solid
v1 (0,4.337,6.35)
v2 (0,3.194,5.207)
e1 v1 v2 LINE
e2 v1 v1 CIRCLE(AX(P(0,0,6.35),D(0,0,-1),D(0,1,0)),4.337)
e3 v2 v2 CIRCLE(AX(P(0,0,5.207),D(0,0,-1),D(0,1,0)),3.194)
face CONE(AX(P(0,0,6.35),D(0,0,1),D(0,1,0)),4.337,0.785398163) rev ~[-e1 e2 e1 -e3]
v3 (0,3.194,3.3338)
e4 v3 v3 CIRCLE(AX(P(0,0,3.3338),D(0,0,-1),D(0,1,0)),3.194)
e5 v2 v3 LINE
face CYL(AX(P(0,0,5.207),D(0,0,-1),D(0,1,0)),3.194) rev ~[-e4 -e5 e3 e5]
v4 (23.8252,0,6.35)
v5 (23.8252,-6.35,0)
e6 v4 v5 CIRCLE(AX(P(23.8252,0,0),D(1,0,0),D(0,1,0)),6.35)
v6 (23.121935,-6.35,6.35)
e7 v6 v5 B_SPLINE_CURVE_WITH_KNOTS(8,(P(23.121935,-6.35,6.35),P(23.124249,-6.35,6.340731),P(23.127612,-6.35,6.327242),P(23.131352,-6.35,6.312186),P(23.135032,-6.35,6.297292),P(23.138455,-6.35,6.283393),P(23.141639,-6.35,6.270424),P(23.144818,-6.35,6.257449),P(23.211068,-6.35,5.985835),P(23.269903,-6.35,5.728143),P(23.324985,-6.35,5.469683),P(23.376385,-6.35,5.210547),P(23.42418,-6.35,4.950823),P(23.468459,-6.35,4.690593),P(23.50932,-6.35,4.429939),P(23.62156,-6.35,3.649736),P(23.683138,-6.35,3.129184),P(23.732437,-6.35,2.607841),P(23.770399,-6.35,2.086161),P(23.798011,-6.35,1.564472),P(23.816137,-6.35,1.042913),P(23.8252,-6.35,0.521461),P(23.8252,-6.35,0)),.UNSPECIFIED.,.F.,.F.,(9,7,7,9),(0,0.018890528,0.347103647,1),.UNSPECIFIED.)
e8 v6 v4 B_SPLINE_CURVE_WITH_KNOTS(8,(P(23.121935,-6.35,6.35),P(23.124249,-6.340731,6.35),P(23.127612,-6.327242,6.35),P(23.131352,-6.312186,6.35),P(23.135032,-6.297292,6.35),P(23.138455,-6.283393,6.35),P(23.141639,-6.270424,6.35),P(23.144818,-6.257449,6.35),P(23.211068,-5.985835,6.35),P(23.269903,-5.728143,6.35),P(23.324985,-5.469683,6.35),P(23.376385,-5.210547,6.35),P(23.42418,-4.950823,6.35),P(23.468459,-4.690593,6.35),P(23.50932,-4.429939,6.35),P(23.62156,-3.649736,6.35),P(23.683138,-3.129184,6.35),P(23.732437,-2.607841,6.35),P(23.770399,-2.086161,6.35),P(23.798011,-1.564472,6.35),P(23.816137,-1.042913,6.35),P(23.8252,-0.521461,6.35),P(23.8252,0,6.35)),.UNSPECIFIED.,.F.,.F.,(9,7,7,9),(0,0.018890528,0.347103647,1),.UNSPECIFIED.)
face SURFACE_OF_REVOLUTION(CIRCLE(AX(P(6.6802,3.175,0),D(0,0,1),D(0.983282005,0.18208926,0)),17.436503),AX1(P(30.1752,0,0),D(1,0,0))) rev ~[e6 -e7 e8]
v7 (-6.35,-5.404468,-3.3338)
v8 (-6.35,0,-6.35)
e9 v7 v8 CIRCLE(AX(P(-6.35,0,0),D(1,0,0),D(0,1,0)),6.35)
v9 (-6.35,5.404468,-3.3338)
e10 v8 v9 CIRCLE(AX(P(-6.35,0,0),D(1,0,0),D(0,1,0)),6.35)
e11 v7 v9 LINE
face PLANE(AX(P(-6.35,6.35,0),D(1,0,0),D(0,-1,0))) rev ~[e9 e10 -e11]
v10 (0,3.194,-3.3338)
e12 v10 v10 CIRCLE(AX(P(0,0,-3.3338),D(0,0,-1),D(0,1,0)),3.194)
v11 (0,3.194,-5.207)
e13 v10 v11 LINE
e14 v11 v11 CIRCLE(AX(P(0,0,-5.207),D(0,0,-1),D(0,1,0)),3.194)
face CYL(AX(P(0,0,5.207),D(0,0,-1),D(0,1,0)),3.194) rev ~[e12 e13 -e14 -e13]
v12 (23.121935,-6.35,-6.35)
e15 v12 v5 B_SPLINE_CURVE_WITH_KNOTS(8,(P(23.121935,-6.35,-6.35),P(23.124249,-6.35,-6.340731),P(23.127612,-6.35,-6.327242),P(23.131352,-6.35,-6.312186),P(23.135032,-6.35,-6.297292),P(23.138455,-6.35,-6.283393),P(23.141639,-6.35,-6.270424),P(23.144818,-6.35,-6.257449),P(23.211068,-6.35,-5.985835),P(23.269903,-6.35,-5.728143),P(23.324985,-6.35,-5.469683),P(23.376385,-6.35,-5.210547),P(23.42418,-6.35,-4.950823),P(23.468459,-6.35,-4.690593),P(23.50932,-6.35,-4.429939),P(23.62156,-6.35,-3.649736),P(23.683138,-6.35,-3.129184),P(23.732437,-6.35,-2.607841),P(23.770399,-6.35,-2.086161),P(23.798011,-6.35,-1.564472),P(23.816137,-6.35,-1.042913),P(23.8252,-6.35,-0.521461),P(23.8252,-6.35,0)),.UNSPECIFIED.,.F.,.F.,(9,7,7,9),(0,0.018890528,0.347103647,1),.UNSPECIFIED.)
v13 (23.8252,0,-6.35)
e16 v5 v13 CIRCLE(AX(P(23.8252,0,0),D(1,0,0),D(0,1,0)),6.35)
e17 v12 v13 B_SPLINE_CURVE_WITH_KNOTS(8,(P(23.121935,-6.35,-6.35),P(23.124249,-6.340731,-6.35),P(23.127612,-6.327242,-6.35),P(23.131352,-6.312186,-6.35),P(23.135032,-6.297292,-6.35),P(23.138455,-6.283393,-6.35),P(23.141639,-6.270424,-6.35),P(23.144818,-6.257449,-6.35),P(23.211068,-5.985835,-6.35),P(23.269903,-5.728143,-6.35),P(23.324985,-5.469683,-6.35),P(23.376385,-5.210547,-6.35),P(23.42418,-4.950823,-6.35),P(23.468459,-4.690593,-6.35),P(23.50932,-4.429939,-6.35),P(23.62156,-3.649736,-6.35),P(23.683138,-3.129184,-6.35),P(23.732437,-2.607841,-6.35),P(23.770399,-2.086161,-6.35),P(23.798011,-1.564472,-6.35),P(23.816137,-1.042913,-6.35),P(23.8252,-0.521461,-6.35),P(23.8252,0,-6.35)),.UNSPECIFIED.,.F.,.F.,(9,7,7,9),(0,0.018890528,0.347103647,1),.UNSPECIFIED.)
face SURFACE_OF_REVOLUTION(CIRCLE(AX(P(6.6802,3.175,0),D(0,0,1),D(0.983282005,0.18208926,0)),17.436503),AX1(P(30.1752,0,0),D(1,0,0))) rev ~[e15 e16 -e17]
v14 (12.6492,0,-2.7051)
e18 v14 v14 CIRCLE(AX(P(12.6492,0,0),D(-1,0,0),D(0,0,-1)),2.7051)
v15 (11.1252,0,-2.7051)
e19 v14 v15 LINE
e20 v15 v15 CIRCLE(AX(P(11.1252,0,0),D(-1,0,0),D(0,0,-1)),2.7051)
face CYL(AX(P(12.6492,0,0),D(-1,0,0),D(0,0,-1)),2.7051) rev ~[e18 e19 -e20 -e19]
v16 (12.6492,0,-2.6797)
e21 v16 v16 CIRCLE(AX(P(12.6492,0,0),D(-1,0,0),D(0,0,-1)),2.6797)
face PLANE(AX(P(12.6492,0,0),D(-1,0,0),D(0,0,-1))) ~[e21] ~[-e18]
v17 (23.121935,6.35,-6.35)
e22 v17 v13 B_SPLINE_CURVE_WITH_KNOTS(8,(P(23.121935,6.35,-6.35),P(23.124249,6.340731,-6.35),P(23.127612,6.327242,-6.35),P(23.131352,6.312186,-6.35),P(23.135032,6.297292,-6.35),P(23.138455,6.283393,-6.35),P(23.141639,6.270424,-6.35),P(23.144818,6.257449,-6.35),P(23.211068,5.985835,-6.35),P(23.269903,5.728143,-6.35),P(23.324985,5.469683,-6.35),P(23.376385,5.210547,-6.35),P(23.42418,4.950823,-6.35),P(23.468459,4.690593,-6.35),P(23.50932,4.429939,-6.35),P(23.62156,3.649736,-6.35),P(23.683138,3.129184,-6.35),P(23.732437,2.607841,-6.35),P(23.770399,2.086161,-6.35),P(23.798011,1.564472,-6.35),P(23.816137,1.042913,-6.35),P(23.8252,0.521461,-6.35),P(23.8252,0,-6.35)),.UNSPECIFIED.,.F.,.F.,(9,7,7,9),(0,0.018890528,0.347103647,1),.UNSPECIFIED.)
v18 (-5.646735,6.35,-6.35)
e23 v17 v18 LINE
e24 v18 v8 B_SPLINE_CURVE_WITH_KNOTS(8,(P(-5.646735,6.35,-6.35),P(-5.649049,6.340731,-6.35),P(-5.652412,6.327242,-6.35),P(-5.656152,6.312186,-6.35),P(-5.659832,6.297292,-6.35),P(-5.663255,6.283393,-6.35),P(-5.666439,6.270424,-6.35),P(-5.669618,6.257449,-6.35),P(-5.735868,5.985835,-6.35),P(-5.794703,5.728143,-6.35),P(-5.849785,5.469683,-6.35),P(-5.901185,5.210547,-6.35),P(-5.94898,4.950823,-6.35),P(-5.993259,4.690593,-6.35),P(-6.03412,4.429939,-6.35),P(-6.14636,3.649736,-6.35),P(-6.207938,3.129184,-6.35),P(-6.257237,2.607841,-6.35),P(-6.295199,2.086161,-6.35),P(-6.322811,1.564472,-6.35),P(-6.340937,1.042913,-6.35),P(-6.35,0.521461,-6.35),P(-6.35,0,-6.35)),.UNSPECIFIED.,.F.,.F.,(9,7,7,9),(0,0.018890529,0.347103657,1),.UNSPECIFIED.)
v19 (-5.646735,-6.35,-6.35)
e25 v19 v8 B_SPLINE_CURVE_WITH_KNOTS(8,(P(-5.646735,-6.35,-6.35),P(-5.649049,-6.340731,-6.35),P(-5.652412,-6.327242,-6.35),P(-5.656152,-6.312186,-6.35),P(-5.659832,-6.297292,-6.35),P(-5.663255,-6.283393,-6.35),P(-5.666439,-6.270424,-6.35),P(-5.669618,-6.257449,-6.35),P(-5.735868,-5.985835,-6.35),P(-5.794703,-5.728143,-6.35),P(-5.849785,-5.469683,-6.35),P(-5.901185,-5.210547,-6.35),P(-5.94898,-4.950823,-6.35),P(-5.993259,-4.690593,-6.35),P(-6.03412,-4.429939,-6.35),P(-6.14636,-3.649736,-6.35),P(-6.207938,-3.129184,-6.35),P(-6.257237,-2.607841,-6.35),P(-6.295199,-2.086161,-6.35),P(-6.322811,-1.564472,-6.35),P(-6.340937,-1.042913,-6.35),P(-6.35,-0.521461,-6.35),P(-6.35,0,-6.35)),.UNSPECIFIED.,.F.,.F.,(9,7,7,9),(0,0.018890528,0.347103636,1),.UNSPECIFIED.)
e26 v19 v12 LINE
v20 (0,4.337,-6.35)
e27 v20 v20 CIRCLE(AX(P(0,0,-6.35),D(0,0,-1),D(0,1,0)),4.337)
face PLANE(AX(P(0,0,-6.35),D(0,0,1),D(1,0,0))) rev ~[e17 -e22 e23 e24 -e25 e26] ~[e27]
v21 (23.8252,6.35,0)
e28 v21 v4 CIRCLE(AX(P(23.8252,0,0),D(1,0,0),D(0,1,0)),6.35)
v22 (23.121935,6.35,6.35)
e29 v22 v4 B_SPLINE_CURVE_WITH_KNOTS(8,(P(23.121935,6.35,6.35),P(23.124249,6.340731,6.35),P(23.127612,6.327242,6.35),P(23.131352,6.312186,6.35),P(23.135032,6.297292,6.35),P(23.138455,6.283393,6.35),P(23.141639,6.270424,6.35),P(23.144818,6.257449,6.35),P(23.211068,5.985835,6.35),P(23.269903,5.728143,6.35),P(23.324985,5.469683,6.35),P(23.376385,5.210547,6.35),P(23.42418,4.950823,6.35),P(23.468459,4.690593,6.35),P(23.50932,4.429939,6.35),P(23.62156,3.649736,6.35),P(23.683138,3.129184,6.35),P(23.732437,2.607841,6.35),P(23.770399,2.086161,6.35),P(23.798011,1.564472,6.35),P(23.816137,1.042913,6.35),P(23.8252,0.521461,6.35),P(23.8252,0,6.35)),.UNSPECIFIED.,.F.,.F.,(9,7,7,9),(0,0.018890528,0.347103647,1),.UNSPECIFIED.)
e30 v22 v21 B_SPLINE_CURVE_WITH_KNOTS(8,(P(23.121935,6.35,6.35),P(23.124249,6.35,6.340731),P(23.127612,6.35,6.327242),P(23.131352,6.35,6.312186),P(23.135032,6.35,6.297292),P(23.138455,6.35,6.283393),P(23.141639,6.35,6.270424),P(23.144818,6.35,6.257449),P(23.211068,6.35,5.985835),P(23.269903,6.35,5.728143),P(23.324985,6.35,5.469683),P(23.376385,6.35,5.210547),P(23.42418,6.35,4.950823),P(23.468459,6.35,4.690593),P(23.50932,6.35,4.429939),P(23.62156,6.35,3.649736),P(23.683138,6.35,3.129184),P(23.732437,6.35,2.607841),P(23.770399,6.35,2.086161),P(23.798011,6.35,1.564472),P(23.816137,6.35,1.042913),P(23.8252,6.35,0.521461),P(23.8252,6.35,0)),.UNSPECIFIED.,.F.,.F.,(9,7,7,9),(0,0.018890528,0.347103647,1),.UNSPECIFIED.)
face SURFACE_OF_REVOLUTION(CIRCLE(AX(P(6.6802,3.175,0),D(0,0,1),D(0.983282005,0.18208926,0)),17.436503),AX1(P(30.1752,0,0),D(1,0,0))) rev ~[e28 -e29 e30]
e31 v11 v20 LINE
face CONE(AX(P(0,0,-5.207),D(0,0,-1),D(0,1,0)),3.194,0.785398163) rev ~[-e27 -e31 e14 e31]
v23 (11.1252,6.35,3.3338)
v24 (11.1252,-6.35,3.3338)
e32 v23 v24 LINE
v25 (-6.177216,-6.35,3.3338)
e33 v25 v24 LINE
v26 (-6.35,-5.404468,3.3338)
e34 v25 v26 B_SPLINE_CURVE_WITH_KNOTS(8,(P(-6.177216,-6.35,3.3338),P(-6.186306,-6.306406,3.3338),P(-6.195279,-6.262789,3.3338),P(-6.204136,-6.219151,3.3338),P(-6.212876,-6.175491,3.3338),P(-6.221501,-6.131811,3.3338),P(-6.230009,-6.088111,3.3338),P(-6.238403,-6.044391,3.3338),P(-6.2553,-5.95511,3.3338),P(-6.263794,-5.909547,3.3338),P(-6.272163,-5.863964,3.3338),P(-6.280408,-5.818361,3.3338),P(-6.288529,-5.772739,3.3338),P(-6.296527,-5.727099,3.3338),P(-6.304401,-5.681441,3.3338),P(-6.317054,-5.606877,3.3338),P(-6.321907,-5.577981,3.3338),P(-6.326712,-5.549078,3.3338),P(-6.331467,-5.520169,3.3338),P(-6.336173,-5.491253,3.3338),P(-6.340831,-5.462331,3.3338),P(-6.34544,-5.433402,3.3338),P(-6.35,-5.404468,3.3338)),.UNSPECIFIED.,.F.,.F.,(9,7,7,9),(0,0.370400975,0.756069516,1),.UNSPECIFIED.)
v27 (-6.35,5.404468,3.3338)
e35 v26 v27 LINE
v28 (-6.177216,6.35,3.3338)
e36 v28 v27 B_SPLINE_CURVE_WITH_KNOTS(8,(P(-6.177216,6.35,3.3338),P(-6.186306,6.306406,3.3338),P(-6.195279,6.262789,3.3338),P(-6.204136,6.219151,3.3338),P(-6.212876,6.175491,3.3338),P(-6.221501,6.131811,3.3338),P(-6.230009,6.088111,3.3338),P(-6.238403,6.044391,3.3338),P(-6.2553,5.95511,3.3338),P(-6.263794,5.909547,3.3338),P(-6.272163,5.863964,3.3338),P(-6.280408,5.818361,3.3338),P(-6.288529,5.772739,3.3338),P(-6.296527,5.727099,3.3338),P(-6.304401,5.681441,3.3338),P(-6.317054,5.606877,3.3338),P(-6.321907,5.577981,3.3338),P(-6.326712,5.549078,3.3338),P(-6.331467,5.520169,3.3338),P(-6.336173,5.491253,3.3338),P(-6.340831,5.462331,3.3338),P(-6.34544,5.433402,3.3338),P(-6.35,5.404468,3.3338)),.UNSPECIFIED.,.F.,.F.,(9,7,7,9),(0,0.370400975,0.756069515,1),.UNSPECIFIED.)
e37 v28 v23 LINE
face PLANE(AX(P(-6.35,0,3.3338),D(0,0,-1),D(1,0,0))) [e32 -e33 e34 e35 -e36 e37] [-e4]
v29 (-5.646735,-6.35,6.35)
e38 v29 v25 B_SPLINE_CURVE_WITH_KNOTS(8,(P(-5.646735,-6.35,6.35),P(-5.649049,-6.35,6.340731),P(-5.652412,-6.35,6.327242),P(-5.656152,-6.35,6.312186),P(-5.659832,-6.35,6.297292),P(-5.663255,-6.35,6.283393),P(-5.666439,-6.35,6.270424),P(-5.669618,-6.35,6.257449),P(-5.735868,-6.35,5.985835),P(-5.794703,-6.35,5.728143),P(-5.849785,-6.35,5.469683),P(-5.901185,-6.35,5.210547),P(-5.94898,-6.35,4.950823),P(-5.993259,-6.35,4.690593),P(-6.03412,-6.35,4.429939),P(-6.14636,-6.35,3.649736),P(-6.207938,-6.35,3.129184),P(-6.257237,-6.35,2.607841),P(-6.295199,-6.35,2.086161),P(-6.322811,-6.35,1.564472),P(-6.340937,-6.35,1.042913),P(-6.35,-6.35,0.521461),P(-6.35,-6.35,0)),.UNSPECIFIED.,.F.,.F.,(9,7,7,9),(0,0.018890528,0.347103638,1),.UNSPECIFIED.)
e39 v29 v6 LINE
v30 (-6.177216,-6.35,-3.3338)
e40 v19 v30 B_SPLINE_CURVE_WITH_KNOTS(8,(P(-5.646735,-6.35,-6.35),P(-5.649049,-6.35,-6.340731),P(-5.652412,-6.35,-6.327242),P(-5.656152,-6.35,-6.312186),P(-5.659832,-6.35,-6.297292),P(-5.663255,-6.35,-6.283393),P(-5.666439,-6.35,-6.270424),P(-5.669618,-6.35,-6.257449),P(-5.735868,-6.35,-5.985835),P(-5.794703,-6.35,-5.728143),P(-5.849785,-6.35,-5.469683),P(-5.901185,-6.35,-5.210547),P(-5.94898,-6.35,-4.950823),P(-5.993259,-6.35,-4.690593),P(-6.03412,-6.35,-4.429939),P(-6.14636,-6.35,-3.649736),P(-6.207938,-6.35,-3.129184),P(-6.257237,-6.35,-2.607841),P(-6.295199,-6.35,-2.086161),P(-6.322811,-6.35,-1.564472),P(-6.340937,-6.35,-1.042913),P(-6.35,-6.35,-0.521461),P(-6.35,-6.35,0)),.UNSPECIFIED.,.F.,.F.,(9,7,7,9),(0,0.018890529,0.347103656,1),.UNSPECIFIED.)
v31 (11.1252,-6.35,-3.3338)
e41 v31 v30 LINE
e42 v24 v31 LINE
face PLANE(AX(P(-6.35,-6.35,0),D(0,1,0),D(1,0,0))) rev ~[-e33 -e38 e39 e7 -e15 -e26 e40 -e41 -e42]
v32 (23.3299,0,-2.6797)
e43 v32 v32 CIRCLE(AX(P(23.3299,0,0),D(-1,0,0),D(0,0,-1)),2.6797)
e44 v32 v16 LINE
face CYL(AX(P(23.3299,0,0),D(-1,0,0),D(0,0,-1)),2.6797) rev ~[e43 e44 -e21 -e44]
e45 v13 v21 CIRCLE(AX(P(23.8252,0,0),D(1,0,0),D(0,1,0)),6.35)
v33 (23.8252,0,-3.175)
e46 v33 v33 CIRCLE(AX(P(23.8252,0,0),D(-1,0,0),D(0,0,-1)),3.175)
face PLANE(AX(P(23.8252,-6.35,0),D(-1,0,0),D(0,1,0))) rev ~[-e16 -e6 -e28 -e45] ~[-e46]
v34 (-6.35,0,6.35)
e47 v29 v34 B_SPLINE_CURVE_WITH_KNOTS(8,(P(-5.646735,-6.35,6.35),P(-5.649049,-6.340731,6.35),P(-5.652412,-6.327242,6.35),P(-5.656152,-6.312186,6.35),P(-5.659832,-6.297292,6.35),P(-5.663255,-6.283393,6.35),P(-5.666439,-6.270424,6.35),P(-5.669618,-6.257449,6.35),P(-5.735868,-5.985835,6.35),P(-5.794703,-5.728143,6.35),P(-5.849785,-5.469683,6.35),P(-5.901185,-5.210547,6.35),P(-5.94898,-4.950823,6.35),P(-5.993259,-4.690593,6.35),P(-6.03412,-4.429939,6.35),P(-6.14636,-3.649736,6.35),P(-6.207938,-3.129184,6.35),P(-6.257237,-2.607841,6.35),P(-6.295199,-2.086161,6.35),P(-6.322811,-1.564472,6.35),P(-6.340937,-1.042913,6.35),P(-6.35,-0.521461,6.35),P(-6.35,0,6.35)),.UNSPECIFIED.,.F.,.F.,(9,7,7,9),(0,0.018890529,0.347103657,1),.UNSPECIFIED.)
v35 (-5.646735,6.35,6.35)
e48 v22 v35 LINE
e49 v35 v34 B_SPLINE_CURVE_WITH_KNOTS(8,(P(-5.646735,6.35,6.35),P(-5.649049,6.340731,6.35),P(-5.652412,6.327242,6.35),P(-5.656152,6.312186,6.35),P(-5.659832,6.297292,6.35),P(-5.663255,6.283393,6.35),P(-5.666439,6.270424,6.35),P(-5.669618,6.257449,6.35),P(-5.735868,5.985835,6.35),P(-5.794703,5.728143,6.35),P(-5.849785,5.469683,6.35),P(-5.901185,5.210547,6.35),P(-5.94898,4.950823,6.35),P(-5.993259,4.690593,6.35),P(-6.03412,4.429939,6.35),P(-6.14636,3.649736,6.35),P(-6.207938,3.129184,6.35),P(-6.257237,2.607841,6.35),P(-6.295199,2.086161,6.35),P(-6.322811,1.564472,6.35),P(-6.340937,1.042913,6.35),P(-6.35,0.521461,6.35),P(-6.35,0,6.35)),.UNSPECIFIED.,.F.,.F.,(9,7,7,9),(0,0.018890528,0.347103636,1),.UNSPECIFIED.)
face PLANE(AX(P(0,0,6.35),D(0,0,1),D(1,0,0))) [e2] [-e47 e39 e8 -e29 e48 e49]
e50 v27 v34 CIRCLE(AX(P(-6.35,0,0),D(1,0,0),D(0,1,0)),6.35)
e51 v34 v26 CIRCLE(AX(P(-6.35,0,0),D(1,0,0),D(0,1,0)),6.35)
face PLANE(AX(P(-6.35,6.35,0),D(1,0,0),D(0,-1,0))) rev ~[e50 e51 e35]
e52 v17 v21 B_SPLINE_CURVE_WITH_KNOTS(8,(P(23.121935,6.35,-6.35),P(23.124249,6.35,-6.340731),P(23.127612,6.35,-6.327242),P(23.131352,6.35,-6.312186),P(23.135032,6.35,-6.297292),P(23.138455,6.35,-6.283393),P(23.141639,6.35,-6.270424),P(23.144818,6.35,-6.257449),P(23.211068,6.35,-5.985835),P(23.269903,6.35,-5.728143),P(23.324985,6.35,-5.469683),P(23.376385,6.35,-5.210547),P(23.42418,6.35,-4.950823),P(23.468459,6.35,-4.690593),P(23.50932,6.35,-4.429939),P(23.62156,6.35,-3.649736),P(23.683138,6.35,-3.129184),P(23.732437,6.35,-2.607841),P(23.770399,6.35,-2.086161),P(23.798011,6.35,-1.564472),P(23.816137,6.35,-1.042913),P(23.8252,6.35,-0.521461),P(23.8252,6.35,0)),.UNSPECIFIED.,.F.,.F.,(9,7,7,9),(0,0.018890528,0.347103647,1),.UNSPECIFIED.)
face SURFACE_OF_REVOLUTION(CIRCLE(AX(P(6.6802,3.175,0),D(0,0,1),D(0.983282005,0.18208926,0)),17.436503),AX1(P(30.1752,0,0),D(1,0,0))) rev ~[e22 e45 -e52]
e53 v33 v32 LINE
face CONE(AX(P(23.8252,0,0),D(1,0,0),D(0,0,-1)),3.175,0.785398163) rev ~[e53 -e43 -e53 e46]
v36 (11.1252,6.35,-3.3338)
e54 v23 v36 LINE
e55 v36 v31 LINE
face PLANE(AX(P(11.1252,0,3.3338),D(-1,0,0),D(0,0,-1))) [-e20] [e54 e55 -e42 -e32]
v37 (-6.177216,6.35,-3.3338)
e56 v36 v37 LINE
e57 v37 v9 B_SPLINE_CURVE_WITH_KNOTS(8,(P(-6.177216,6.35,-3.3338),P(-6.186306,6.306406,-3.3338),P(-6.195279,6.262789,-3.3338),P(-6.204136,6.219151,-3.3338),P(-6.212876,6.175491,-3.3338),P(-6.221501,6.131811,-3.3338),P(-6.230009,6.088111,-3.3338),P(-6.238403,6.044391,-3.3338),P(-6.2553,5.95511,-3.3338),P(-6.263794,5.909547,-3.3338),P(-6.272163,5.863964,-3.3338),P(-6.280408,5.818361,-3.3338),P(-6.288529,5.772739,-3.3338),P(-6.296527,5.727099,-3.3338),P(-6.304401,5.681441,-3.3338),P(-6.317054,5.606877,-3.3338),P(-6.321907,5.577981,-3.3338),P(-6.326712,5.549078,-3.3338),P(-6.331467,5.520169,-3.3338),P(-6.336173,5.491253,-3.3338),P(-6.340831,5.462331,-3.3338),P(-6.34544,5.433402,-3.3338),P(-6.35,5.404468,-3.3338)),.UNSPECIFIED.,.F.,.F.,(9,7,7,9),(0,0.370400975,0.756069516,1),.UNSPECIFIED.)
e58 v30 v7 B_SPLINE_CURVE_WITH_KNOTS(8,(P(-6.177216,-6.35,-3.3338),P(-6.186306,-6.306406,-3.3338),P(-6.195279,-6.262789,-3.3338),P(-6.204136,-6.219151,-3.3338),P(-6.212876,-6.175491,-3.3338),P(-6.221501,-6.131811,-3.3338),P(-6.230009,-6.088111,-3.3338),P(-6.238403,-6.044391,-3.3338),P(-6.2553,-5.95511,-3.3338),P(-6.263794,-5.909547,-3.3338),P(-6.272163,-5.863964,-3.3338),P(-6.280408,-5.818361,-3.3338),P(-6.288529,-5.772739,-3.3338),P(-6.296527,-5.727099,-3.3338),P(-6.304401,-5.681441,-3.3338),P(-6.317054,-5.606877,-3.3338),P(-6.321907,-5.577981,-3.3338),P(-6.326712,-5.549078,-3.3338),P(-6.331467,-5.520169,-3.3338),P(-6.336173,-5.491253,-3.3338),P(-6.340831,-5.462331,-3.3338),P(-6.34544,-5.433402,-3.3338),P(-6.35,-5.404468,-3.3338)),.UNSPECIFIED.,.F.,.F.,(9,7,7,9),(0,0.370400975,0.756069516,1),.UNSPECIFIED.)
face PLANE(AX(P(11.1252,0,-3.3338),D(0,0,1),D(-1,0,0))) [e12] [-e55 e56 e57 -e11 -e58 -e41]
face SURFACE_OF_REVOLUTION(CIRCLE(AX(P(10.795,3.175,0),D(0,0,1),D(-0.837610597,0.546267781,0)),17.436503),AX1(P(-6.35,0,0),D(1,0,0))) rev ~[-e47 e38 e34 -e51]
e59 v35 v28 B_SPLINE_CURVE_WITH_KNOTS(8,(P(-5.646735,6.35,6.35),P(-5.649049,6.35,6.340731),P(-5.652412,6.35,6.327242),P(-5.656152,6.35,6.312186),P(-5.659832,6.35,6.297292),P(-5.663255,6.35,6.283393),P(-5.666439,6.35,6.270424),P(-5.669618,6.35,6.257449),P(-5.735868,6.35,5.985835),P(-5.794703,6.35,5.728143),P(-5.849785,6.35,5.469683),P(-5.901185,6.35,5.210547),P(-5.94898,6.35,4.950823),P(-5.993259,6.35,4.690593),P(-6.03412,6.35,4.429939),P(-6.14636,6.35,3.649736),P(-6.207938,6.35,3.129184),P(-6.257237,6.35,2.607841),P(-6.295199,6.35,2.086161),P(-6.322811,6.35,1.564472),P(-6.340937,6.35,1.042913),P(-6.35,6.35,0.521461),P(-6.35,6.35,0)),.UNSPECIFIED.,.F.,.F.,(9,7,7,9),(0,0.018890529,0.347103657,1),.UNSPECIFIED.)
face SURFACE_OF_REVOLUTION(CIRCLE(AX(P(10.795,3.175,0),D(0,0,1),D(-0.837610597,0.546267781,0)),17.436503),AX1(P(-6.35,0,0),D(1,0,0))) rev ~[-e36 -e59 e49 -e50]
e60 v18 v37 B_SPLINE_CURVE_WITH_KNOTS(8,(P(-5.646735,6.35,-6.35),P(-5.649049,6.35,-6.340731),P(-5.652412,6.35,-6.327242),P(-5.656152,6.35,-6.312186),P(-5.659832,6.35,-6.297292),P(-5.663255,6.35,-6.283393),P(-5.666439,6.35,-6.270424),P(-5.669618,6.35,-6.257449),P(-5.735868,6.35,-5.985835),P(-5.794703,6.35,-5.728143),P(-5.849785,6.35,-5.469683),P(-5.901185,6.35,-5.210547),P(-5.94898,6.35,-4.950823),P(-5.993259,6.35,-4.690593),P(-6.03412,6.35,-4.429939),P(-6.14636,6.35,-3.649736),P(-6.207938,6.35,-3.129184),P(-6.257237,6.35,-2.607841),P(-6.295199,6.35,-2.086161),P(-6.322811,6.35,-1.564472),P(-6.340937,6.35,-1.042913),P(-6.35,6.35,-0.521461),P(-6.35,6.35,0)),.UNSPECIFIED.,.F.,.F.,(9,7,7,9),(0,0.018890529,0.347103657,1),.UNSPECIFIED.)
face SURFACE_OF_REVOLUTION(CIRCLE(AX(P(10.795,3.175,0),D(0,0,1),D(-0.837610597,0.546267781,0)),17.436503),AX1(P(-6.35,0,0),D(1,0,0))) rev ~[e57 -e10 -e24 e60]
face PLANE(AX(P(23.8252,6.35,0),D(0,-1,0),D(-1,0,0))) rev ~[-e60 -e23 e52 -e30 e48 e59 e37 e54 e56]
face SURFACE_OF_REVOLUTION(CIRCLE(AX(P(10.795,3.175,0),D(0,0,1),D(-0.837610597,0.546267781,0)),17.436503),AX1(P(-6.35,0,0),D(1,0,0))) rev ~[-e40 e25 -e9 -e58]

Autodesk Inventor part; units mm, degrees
sketch "Sketch_1" plane through (0, 0, 0) normal (0, 0, 1) x (1, 0, 0)
  line L0 (-6.35, 6.35) -> (-6.35, -6.35)
  line L1 (-6.35, -6.35) -> (23.8252, -6.35)
  line L2 (23.8252, -6.35) -> (23.8252, 6.35)
  line L3 (23.8252, 6.35) -> (-6.35, 6.35)
extrude "Extrusion1" add sketch "Sketch_1" along normal mid plane 12.7
sketch "Sketch_2" plane through (0, 0, 0) normal (0, 1, 0) x (-1, 0, 0)
  line L0 (6.35, -3.3338) -> (6.35, 3.3338)
  line L1 (6.35, 3.3338) -> (-11.1252, 3.3338)
  line L2 (-11.1252, 3.3338) -> (-11.1252, -3.3338)
  line L3 (-11.1252, -3.3338) -> (6.35, -3.3338)
extrude "Extrusion2" cut sketch "Sketch_2" along normal mid plane 12.7
sketch "Sketch3" plane through (23.8252, -6.35, 6.35) normal (1, 0, 0) x (0, 0, -1)
  point P0 (6.35, 6.35)
hole "Drilling 1" at (23.8252, 0, 0) direction (-1, 0, 0) diameter 5.3594 depth 11.176 countersink diameter 6.35 countersink angle 90 thread size "1/4-28 UNF" class "2B" standard "ANSI Unified Screw Threads"
sketch "Sketch4" plane through (12.6492, 0, 0) normal (1, 0, 0) x (0, 0, -1)
  point P0 (0, 0)
hole "Drilling 2" at (12.6492, 0, 0) direction (-1, 0, 0) diameter 5.4102 depth 1.524
sketch "Sketch_5" plane through (0, 0, 0) normal (1, 0, 0) x (0, 1, 0)
  line L0 (0, -6.35) -> (0, 6.35)
  line L1 (0, 6.35) -> (4.337, 6.35)
  line L2 (4.337, 6.35) -> (3.194, 5.207)
  line L3 (3.194, 5.207) -> (3.194, -5.207)
  line L4 (3.194, -5.207) -> (4.337, -6.35)
  line L5 (4.337, -6.35) -> (0, -6.35)
  line L6 (0, -6.35) -> (0, 6.35)
revolve "Revolution1" cut sketch "Sketch_5" angle 360 about axis through (0, 0, -6.35) along (0, 0, -1)
sketch "Sketch_9" plane through (0, 0, 0) normal (0, 0, 1) x (1, 0, 0)
  line L0 (30.1752, 0) -> (23.8252, 0)
  line L1 (23.8252, 0) -> (23.8252, 6.35)
  arc A0 (23.8252, 6.35) -> (21.2852, 12.7) centre (6.6802, 3.175) ccw
  line L2 (21.2852, 12.7) -> (30.1752, 12.7)
  line L3 (30.1752, 12.7) -> (30.1752, 0)
  line L4 (30.1752, 0) -> (23.8252, 0)
revolve "Revolution2" cut sketch "Sketch_9" angle 360 about axis through (30.1752, 0, 0) along (1, 0, 0)
sketch "Sketch_10" plane through (0, 0, 0) normal (0, 0, 1) x (1, 0, 0)
  line L0 (-6.35, 0) -> (-12.7, 0)
  line L1 (-12.7, 0) -> (-12.7, 12.7)
  line L2 (-12.7, 12.7) -> (-3.81, 12.7)
  arc A0 (-3.81, 12.7) -> (-6.35, 6.35) centre (10.795, 3.175) ccw
  line L3 (-6.35, 6.35) -> (-6.35, 0)
  line L4 (-6.35, 0) -> (-12.7, 0)
revolve "Revolution3" cut sketch "Sketch_10" angle 360 about axis through (-6.35, 0, 0) along (1, 0, 0)
ref_plane "th1_XY" through (23.8252, 3.175, 0) normal (0, 0, 1) x (1, 0, 0)
ref_plane "th1_YZ" through (23.8252, 3.175, 0) normal (1, 0, 0) x (0, 1, 0)
ref_plane "th1_ZX" through (23.8252, 3.175, 0) normal (0, 1, 0) x (0, 0, 1)
ref_plane "th2_XY" through (23.8252, -3.175, 0) normal (0, 0, 1) x (1, 0, 0)
ref_plane "th2_YZ" through (23.8252, -3.175, 0) normal (1, 0, 0) x (0, 1, 0)
ref_plane "th2_ZX" through (23.8252, -3.175, 0) normal (0, 1, 0) x (0, 0, 1)
ref_plane "rod_clevis_body_XY" through (0, 0, 0) normal (0, 0, 1) x (1, 0, 0)
ref_plane "rod_clevis_body_YZ" through (0, 0, 0) normal (1, 0, 0) x (0, 1, 0)
ref_plane "rod_clevis_body_ZX" through (0, 0, 0) normal (0, 1, 0) x (0, 0, 1)
ref_plane "piston_rod_clevis_XY" through (23.8252, 0, 0) normal (1, 0, 0) x (0, 0, -1)
ref_plane "piston_rod_clevis_YZ" through (23.8252, 0, 0) normal (0, 0, -1) x (0, 1, 0)
ref_plane "piston_rod_clevis_ZX" through (23.8252, 0, 0) normal (0, 1, 0) x (1, 0, 0)
ref_plane "dummy_XY" through (0, 0, 0) normal (0, 0, 1) x (1, 0, 0)
ref_plane "dummy_YZ" through (0, 0, 0) normal (1, 0, 0) x (0, 1, 0)
ref_plane "dummy_ZX" through (0, 0, 0) normal (0, 1, 0) x (0, 0, 1)
ref_plane "l11_XY" through (23.8252, 6.35, 0) normal (0, 0, 1) x (1, 0, 0)
ref_plane "l11_YZ" through (23.8252, 6.35, 0) normal (1, 0, 0) x (0, 1, 0)
ref_plane "l11_ZX" through (23.8252, 6.35, 0) normal (0, 1, 0) x (0, 0, 1)
ref_plane "l12_XY" through (0, 6.35, 0) normal (0, 0, 1) x (1, 0, 0)
ref_plane "l12_YZ" through (0, 6.35, 0) normal (1, 0, 0) x (0, 1, 0)
ref_plane "l12_ZX" through (0, 6.35, 0) normal (0, 1, 0) x (0, 0, 1)
ref_plane "l1_XY" through (23.8252, 6.35, 0) normal (0, 0, 1) x (1, 0, 0)
ref_plane "l1_YZ" through (23.8252, 6.35, 0) normal (1, 0, 0) x (0, 1, 0)
ref_plane "l1_ZX" through (23.8252, 6.35, 0) normal (0, 1, 0) x (0, 0, 1)
ref_plane "h1_XY" through (-6.35, 6.35, 0) normal (0, 0, 1) x (1, 0, 0)
ref_plane "h1_YZ" through (-6.35, 6.35, 0) normal (1, 0, 0) x (0, 1, 0)
ref_plane "h1_ZX" through (-6.35, 6.35, 0) normal (0, 1, 0) x (0, 0, 1)
ref_plane "l2_XY" through (-6.35, 6.35, 0) normal (0, 0, 1) x (1, 0, 0)
ref_plane "l2_YZ" through (-6.35, 6.35, 0) normal (1, 0, 0) x (0, 1, 0)
ref_plane "l2_ZX" through (-6.35, 6.35, 0) normal (0, 1, 0) x (0, 0, 1)
ref_plane "h2_XY" through (-6.35, -6.35, 0) normal (0, 0, 1) x (1, 0, 0)
ref_plane "h2_YZ" through (-6.35, -6.35, 0) normal (1, 0, 0) x (0, 1, 0)
ref_plane "h2_ZX" through (-6.35, -6.35, 0) normal (0, 1, 0) x (0, 0, 1)
ref_plane "w11_XY" through (-6.35, 0, -3.3338) normal (0, 1, 0) x (1, 0, 0)
ref_plane "w11_YZ" through (-6.35, 0, -3.3338) normal (1, 0, 0) x (0, 0, -1)
ref_plane "w11_ZX" through (-6.35, 0, -3.3338) normal (0, 0, -1) x (0, 1, 0)
ref_plane "w12_XY" through (-6.35, 0, 3.3338) normal (0, 1, 0) x (1, 0, 0)
ref_plane "w12_YZ" through (-6.35, 0, 3.3338) normal (1, 0, 0) x (0, 0, -1)
ref_plane "w12_ZX" through (-6.35, 0, 3.3338) normal (0, 0, -1) x (0, 1, 0)
ref_plane "l21_XY" through (23.8252, 0, 0) normal (0, 1, 0) x (1, 0, 0)
ref_plane "l21_YZ" through (23.8252, 0, 0) normal (1, 0, 0) x (0, 0, -1)
ref_plane "l21_ZX" through (23.8252, 0, 0) normal (0, 0, -1) x (0, 1, 0)
ref_plane "l22_XY" through (11.1252, 0, 0) normal (0, 1, 0) x (1, 0, 0)
ref_plane "l22_YZ" through (11.1252, 0, 0) normal (1, 0, 0) x (0, 0, -1)
ref_plane "l22_ZX" through (11.1252, 0, 0) normal (0, 0, -1) x (0, 1, 0)
ref_plane "w1_XY" through (23.8252, 0, -6.35) normal (0, 1, 0) x (1, 0, 0)
ref_plane "w1_YZ" through (23.8252, 0, -6.35) normal (1, 0, 0) x (0, 0, -1)
ref_plane "w1_ZX" through (23.8252, 0, -6.35) normal (0, 0, -1) x (0, 1, 0)
ref_plane "w2_XY" through (23.8252, 0, 6.35) normal (0, 1, 0) x (1, 0, 0)
ref_plane "w2_YZ" through (23.8252, 0, 6.35) normal (1, 0, 0) x (0, 0, -1)
ref_plane "w2_ZX" through (23.8252, 0, 6.35) normal (0, 0, -1) x (0, 1, 0)
ref_plane "to_cylinder_XY" through (11.1252, 0, 0) normal (1, 0, 0) x (0, 0, -1)
ref_plane "to_cylinder_YZ" through (11.1252, 0, 0) normal (0, 0, -1) x (0, 1, 0)
ref_plane "to_cylinder_ZX" through (11.1252, 0, 0) normal (0, 1, 0) x (1, 0, 0)
properties part number "D-14055"
